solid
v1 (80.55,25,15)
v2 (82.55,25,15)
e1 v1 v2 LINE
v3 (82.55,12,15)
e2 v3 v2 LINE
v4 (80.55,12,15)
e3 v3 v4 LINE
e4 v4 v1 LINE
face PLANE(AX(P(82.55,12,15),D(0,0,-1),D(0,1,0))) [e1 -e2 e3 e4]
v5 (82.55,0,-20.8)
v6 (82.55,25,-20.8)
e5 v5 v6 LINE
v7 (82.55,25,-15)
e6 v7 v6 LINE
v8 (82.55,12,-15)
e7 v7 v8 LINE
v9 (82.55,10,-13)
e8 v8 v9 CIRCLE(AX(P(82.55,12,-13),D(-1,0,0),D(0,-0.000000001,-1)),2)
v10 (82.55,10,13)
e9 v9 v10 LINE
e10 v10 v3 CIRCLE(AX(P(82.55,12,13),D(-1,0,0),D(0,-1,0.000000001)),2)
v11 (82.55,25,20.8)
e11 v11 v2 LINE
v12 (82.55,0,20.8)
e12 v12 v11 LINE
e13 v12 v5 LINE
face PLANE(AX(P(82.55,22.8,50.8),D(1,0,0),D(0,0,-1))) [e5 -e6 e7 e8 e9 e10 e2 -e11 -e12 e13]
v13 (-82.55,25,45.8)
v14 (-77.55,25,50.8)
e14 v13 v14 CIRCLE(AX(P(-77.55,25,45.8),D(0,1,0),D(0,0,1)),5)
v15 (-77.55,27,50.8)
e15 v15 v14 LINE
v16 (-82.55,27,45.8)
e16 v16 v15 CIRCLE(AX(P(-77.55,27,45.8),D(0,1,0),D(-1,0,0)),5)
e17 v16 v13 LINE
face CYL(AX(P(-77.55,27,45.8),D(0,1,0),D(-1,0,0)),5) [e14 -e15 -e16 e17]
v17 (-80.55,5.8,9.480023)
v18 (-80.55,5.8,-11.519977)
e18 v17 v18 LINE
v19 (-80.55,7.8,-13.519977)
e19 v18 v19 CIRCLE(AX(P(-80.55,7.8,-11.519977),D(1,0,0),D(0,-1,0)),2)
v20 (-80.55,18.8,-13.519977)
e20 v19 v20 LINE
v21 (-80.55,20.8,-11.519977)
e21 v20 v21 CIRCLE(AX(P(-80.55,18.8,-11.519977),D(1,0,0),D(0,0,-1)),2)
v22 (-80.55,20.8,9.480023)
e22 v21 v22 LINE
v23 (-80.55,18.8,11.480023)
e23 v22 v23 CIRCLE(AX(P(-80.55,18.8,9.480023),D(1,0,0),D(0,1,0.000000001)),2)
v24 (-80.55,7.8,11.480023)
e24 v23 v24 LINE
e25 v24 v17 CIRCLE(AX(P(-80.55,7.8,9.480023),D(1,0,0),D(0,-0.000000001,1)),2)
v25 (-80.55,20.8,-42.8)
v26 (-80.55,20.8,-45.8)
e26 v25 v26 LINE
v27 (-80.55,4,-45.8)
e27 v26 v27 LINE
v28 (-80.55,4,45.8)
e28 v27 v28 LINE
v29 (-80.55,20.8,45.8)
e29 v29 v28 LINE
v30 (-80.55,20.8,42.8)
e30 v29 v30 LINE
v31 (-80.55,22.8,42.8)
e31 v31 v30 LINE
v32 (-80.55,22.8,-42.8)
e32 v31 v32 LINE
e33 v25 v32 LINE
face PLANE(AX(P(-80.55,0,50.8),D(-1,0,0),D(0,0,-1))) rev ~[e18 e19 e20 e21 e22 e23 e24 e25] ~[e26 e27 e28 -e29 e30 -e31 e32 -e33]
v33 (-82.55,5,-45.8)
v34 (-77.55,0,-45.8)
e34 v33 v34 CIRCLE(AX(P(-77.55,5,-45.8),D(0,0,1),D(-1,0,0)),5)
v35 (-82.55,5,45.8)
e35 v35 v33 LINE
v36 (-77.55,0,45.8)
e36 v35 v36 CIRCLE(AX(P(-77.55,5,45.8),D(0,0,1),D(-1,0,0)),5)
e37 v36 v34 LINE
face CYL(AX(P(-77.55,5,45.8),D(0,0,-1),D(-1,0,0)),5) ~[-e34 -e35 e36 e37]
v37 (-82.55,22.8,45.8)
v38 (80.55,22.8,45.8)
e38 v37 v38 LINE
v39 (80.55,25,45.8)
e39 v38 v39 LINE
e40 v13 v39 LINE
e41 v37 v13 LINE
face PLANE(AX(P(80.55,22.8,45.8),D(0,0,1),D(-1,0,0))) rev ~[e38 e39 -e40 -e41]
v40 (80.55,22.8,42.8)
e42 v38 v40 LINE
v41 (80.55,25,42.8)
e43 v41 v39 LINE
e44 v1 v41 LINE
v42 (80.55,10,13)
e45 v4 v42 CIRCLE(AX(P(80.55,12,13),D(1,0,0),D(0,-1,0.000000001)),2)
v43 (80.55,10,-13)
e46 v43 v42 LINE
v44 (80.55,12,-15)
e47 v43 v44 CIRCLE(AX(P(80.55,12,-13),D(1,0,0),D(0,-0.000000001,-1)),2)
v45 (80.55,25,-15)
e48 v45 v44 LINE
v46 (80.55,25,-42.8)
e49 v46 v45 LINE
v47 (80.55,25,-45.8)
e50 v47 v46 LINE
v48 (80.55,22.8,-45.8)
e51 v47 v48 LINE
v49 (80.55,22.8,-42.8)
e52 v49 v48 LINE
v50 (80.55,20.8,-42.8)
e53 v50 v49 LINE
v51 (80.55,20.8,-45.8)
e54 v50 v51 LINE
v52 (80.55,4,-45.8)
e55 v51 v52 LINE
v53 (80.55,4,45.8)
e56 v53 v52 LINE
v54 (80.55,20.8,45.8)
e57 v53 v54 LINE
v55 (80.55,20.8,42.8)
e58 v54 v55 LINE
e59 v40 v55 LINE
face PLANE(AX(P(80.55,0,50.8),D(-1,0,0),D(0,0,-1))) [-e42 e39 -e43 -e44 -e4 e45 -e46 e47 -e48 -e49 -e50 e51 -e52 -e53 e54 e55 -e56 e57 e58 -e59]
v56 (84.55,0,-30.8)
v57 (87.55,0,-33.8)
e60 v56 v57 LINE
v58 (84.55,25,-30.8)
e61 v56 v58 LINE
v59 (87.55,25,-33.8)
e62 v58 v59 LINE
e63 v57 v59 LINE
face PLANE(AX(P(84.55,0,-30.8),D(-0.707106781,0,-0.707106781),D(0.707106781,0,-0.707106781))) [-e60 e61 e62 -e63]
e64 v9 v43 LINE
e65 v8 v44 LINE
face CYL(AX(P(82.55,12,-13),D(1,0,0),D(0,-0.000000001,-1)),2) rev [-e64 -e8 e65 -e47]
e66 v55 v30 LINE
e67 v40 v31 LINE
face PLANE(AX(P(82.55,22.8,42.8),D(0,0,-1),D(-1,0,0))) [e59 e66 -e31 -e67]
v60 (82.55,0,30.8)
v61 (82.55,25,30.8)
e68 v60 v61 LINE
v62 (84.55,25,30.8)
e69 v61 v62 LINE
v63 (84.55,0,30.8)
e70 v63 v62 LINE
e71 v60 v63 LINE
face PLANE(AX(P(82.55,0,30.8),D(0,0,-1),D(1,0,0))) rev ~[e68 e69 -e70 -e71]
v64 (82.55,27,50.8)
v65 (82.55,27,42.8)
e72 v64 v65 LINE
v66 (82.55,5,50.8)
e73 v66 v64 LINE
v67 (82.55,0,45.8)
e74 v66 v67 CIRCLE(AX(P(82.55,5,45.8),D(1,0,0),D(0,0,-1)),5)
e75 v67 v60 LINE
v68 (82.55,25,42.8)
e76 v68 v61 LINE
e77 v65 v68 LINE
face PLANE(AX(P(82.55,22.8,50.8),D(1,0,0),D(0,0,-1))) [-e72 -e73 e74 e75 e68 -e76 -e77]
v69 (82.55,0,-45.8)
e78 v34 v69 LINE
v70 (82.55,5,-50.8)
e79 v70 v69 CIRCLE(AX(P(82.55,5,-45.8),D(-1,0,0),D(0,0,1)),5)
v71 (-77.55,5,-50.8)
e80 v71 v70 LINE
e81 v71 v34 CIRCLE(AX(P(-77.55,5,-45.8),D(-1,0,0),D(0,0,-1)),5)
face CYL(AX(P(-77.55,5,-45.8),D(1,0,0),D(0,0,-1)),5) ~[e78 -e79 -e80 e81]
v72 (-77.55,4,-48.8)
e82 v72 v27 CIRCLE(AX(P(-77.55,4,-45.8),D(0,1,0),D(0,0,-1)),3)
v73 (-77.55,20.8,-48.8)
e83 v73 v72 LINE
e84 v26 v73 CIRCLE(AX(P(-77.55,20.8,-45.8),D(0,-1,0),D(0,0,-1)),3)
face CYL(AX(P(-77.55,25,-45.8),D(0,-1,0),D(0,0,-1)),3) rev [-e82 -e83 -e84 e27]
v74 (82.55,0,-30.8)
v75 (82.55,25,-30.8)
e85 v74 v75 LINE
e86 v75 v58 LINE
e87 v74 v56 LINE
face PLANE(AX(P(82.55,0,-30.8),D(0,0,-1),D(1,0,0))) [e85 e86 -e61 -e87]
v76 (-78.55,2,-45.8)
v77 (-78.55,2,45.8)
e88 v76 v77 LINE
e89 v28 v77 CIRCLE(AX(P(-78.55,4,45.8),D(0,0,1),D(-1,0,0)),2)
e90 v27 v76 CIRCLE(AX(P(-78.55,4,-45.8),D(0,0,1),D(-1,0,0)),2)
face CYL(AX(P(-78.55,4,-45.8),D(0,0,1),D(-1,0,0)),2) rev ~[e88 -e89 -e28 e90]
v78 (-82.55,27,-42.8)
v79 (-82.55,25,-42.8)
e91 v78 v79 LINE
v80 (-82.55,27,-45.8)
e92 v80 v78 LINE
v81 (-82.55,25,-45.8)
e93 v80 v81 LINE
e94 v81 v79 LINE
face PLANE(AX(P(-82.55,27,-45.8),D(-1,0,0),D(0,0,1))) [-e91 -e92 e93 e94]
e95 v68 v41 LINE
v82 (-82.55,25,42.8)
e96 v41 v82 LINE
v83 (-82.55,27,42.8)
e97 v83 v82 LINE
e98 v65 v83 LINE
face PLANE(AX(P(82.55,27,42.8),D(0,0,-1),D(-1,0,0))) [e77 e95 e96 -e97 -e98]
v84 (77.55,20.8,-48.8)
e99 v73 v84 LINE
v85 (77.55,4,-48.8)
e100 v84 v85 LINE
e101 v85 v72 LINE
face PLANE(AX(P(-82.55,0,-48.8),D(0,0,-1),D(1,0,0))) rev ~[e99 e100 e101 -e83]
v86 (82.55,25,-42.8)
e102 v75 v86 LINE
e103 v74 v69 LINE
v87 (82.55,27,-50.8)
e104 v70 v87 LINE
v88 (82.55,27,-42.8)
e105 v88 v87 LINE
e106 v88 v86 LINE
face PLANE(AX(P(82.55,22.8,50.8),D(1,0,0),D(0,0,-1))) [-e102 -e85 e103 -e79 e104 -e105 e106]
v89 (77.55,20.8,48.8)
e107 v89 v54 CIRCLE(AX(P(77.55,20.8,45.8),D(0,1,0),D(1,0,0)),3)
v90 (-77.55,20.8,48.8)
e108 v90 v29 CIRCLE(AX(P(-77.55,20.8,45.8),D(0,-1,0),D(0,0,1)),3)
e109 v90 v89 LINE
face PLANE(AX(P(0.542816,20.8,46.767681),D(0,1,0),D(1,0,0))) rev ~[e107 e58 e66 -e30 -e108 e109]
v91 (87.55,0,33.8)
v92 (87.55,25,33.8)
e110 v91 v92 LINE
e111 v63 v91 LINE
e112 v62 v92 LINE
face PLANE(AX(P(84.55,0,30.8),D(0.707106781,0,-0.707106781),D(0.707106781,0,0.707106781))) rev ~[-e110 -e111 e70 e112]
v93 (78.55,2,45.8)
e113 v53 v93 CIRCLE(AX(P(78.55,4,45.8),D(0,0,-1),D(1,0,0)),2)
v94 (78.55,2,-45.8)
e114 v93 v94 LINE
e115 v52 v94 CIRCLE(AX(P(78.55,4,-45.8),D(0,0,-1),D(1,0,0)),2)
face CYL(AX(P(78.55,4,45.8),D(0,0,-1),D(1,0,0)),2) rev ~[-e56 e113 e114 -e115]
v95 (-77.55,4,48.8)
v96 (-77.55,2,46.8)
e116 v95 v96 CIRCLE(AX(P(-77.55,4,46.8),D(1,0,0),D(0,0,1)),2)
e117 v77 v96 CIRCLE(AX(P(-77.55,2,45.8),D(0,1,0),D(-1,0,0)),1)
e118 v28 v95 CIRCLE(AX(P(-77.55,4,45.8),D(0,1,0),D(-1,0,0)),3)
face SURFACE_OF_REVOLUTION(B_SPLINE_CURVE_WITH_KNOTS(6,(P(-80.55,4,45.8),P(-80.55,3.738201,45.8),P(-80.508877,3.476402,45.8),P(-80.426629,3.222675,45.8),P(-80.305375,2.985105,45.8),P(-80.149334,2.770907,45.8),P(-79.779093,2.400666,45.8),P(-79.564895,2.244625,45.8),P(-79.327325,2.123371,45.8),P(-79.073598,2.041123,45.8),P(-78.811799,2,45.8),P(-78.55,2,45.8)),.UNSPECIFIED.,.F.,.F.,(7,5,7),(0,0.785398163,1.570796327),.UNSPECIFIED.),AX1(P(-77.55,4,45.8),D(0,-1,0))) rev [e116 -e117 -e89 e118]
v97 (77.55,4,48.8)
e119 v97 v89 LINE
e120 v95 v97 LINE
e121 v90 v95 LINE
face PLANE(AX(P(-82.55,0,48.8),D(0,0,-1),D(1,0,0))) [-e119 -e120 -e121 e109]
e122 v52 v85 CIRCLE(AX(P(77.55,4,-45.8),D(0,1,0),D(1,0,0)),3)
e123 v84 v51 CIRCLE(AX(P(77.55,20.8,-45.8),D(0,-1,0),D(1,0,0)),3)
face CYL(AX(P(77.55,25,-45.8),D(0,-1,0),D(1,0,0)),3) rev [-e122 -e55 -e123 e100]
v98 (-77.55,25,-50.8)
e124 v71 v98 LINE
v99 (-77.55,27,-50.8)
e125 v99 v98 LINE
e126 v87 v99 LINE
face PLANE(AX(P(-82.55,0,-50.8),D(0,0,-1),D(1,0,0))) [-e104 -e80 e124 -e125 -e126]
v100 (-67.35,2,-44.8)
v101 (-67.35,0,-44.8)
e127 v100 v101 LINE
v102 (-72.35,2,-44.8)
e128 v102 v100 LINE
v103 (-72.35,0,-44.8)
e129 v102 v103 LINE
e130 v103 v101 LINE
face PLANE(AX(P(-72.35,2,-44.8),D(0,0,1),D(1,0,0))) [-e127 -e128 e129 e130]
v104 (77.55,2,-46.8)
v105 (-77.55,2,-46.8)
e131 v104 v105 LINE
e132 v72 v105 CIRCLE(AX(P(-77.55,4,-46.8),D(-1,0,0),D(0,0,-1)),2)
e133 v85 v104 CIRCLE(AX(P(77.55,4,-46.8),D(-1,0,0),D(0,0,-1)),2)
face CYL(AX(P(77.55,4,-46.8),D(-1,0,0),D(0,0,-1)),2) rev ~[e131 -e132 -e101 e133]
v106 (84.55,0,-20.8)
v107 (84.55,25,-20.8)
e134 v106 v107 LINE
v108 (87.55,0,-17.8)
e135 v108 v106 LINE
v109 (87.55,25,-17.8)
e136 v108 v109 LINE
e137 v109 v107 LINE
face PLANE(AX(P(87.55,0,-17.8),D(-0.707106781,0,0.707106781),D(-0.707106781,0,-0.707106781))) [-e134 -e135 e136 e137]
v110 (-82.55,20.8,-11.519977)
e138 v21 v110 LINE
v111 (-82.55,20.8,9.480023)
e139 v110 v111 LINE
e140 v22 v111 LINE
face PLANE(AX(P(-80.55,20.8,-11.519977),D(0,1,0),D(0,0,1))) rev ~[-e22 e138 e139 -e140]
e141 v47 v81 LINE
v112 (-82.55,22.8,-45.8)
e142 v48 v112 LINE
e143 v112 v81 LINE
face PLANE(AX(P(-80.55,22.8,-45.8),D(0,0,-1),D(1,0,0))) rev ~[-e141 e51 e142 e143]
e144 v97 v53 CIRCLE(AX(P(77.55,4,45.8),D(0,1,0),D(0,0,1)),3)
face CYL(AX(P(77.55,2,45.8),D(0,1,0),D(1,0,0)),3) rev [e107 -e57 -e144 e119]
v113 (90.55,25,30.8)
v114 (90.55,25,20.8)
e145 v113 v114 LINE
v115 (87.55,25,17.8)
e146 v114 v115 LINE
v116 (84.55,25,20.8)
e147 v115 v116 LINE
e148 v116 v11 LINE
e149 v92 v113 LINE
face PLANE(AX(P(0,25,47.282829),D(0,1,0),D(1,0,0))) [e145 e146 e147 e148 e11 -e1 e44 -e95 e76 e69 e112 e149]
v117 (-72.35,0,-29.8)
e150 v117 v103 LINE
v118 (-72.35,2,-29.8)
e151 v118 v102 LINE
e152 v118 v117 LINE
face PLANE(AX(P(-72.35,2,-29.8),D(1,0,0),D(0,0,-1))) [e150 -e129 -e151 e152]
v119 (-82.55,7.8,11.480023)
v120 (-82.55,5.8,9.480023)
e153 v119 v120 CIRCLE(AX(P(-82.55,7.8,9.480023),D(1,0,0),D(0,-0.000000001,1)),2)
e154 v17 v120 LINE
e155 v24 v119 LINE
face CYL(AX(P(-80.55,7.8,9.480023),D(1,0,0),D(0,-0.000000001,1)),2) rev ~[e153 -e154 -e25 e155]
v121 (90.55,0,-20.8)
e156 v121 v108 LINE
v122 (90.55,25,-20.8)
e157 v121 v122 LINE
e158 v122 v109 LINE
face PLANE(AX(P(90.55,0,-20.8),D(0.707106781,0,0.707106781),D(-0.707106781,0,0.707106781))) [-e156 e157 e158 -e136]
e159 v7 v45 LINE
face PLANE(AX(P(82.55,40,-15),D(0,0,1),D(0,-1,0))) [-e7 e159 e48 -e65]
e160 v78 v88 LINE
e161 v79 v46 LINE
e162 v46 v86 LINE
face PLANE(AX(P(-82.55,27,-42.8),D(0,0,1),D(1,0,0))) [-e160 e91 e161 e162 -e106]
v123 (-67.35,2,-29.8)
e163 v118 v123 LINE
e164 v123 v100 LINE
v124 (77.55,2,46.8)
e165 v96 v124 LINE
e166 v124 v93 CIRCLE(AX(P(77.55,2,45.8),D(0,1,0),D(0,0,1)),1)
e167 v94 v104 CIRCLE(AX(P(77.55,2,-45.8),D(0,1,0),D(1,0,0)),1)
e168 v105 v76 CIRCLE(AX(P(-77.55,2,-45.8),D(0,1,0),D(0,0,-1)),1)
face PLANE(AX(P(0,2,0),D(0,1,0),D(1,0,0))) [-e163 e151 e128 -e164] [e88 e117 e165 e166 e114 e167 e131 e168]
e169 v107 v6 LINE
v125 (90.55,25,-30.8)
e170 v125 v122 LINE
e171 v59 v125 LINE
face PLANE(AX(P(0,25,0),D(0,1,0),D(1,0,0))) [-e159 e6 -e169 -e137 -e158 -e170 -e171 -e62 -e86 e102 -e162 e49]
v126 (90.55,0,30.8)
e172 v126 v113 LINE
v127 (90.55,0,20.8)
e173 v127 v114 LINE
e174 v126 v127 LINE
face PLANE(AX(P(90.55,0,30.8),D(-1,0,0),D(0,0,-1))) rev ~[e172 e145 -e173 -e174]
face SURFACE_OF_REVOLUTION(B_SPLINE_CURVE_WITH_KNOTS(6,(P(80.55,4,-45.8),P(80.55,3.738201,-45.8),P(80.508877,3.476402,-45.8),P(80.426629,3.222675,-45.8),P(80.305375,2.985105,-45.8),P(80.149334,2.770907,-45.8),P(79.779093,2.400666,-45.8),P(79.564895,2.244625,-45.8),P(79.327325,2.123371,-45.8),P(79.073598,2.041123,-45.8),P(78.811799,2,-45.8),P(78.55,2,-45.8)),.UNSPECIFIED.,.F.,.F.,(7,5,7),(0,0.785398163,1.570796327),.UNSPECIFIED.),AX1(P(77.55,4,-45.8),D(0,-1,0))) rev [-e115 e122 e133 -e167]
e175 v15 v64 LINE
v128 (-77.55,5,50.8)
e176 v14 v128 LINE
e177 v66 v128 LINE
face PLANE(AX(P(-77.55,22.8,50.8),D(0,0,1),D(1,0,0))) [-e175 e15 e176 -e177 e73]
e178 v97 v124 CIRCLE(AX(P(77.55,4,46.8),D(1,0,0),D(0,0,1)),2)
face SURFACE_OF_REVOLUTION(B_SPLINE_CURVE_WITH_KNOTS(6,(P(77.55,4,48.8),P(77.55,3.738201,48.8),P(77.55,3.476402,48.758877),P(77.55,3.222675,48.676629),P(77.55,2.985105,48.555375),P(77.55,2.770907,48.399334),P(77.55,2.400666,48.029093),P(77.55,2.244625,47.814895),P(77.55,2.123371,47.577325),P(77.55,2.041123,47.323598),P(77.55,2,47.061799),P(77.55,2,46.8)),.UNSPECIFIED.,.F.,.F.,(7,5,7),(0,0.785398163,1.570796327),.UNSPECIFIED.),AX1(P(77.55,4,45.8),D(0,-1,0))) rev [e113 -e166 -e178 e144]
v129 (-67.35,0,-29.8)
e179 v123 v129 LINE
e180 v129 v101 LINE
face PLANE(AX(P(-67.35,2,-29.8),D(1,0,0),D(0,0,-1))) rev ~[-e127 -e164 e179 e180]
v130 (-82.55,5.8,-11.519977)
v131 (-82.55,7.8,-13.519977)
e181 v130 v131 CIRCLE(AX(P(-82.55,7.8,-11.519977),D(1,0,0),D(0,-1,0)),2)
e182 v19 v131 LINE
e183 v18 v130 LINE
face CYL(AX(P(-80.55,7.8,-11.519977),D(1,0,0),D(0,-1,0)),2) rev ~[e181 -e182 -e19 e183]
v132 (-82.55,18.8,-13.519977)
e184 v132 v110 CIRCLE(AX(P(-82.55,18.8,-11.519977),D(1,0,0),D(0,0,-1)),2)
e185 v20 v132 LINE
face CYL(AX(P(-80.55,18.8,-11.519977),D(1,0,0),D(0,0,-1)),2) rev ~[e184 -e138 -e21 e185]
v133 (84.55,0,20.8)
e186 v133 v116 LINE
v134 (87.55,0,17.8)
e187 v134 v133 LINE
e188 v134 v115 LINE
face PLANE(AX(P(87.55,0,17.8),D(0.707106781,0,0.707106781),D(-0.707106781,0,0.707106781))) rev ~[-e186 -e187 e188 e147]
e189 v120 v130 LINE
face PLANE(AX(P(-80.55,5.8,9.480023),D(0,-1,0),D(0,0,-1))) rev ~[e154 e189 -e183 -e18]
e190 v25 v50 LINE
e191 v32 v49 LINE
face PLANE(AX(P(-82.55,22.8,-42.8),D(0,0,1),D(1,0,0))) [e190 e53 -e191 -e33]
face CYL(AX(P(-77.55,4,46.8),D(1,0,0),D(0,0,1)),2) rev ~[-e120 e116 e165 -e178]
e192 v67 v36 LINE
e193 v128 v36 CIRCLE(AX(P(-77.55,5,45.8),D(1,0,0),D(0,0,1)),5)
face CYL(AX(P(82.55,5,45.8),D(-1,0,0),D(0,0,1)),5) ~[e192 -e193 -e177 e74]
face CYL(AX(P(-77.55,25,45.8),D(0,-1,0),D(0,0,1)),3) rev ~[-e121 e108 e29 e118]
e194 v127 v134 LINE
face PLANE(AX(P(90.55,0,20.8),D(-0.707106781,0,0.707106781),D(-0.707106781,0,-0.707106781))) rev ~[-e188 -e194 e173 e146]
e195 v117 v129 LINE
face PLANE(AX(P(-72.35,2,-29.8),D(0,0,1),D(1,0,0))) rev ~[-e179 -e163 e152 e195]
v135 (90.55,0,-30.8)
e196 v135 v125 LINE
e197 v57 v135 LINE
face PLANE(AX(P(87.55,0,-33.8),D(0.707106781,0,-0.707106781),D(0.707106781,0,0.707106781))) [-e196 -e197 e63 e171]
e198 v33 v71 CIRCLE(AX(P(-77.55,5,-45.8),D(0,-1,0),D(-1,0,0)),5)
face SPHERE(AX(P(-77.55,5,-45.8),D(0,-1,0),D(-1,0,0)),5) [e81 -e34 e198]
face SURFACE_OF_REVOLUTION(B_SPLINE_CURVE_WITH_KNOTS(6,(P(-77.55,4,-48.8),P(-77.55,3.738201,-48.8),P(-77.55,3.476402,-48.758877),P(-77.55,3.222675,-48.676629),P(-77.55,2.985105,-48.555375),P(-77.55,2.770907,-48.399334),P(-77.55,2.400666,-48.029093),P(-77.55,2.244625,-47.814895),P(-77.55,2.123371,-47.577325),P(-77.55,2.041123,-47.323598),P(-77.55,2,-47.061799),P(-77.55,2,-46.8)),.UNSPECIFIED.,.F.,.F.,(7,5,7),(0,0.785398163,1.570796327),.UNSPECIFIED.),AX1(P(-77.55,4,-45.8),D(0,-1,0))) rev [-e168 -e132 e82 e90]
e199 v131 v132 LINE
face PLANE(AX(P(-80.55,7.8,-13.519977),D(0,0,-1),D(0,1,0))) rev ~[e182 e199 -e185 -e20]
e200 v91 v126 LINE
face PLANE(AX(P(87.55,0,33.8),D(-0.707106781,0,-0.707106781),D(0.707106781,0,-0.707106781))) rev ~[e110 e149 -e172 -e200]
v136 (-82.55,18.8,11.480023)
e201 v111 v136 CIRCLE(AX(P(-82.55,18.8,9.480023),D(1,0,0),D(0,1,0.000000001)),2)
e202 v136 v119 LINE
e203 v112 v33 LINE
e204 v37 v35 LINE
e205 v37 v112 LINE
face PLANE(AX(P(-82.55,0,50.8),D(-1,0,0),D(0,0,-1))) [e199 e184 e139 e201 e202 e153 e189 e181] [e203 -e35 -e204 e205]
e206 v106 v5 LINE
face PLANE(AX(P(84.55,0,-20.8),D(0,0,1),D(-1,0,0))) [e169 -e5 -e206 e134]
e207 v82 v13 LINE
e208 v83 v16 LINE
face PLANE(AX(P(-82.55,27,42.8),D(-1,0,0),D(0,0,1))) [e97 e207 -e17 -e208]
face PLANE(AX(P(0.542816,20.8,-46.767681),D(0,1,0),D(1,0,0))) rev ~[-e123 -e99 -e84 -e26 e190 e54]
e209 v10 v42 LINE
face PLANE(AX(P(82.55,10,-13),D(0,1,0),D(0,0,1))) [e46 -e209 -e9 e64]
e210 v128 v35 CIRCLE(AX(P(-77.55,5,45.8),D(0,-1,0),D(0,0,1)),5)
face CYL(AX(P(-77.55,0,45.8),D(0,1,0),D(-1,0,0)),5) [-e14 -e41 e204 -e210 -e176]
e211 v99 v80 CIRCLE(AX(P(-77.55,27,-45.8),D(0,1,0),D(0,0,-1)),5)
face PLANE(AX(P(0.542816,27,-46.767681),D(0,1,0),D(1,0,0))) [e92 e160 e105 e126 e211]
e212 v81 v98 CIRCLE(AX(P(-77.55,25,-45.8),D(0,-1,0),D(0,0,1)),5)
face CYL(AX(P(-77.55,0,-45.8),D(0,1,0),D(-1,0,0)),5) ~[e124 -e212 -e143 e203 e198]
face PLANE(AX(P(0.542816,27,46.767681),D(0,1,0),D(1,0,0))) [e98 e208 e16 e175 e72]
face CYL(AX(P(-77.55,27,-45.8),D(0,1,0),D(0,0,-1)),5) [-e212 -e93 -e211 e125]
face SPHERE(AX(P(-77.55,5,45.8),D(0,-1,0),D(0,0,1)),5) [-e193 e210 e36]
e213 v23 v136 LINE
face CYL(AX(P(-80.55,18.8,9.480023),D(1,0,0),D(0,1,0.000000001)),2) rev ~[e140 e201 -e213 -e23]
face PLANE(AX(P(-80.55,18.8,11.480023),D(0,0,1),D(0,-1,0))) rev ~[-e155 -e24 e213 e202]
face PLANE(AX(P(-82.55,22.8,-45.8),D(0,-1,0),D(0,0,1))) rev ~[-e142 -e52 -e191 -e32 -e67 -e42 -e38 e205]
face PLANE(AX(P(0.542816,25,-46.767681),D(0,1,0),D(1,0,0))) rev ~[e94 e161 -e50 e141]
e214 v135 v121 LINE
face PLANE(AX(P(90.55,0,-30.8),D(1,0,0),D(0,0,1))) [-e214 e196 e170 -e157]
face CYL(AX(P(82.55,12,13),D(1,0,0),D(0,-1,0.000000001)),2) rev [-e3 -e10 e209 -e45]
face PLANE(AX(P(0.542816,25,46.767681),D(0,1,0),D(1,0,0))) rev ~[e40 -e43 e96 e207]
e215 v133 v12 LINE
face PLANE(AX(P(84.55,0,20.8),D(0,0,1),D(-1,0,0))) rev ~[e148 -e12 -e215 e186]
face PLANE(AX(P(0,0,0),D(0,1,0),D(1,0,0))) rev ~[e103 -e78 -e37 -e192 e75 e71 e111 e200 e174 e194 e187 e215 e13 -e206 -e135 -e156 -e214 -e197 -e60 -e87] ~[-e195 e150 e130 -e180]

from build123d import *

# Parameters (mm, degrees)
SKETCH1_W           = 165.1
SKETCH1_H           = 101.6
BOSS_EXTRUDE1_DEPTH = 25
SHELL1_T            = -2
SKETCH2_W           = 5
SKETCH2_H           = 15
CUT_EXTRUDE1_DEPTH  = 25
CUT_EXTRUDE2_REACH  = 176.538
FILLET1_R           = 5
FILLET2_R           = 3
FILLET3_R           = 2
FILLET4_R           = 5
CUT_EXTRUDE3_REACH  = 176.538
SKETCH4_W           = 91.6
SKETCH4_H           = 4.4
BOSS_EXTRUDE4_START = -2.2
BOSS_EXTRUDE4_DEPTH = 2.2
BOSS_EXTRUDE2_START = 2
BOSS_EXTRUDE2_DEPTH = 2
LPATTERN1_COUNT     = 2
LPATTERN1_PITCH     = 4.2
BOSS_EXTRUDE3_DEPTH = 25
CUT_EXTRUDE4_REACH  = 182.513


with BuildPart() as part:
    # Sketch1 → Boss-Extrude1 (new body)
    with BuildSketch(Plane(origin=(0, 0, 0), x_dir=(1, 0, 0), z_dir=(0, 1, 0))):
        Rectangle(SKETCH1_W, SKETCH1_H)
    extrude(amount=BOSS_EXTRUDE1_DEPTH)

    # Shell1
    shell1_openings = [part.faces().sort_by_distance(p)[0] for p in [
        (0, 25, 0),
    ]]
    offset(amount=SHELL1_T, openings=shell1_openings, kind=Kind.INTERSECTION)

    # Sketch2 → Cut-Extrude1 (cut)
    with BuildSketch(Plane(origin=(0, 2, 0), x_dir=(1, 0, 0), z_dir=(0, 1, 0))):
        with Locations((-69.85, 37.3)):
            Rectangle(SKETCH2_W, SKETCH2_H)
    extrude(amount=-CUT_EXTRUDE1_DEPTH, mode=Mode.SUBTRACT)

    # Sketch3 → Cut-Extrude2 (cut, up to next)
    with BuildSketch(Plane(origin=(82.55, 0, 0), x_dir=(0, 0, -1), z_dir=(1, 0, 0)), mode=Mode.PRIVATE) as cut_extrude2_sk1:
        with BuildLine():
            Line((-15, 40), (15, 40))
            Line((15, 40), (15, 12))
            ThreePointArc((15, 12), (14.414213562, 10.585786438), (13, 10))
            Line((13, 10), (-13, 10))
            ThreePointArc((-13, 10), (-14.414213562, 10.585786438), (-15, 12))
            Line((-15, 12), (-15, 40))
        make_face()
    cut_extrude2_tool1 = extrude(cut_extrude2_sk1.sketch, amount=-CUT_EXTRUDE2_REACH, mode=Mode.PRIVATE) & part.part
    add(cut_extrude2_tool1.solids().sort_by_distance((82.55, 25.027814, 0))[0], mode=Mode.SUBTRACT)

    # Fillet1
    fillet1_edges = [part.edges().sort_by_distance(p)[0] for p in [
        (-82.55, 12.5, -50.8),
        (-82.55, 12.5, 50.8),
    ]]
    fillet(fillet1_edges, radius=FILLET1_R)

    # Fillet2
    fillet2_edges = [part.edges().sort_by_distance(p)[0] for p in [
        (-80.55, 13.5, -48.8),
        (-80.55, 13.5, 48.8),
        (80.55, 13.5, 48.8),
        (80.55, 13.5, -48.8),
    ]]
    fillet(fillet2_edges, radius=FILLET2_R)

    # Fillet3
    fillet3_edges = [part.edges().sort_by_distance(p)[0] for p in [
        (80.55, 2, 0),
        (-80.55, 2, 0),
        (0, 2, 48.8),
        (0, 2, -48.8),
        (-79.671320344, 2, -47.921320344),
        (-79.671320344, 2, 47.921320344),
        (79.671320344, 2, 47.921320344),
        (79.671320344, 2, -47.921320344),
    ]]
    fillet(fillet3_edges, radius=FILLET3_R)

    # Fillet4
    fillet4_edges = [part.edges().sort_by_distance(p)[0] for p in [
        (2.5, 0, -50.8),
        (2.5, 0, 50.8),
        (-82.55, 0, 0),
        (-81.085533906, 0, -49.335533906),
        (-81.085533906, 0, 49.335533906),
    ]]
    fillet(fillet4_edges, radius=FILLET4_R)

    # Sketch4 → Cut-Extrude3 (cut, up to next)
    with BuildSketch(Plane.ZY.offset(82.55), mode=Mode.PRIVATE) as cut_extrude3_sk1:
        with Locations((0, 25)):
            Rectangle(SKETCH4_W, SKETCH4_H)
    cut_extrude3_tool1 = extrude(cut_extrude3_sk1.sketch, amount=-CUT_EXTRUDE3_REACH, mode=Mode.PRIVATE) & part.part
    add(cut_extrude3_tool1.solids().sort_by_distance((-82.55, 25, 0))[0], mode=Mode.SUBTRACT)

    # Sketch8 → Boss-Extrude4 (add)
    with BuildSketch(Plane(origin=(0, 25, 0), x_dir=(1, 0, 0), z_dir=(0, 1, 0)).offset(BOSS_EXTRUDE4_START)):
        with BuildLine():
            Line((-77.55, -48.8), (77.55, -48.8))
            ThreePointArc((77.55, -48.8), (79.671320344, -47.921320344), (80.55, -45.8))
            Line((80.55, -45.8), (-80.55, -45.8))
            ThreePointArc((-80.55, -45.8), (-79.671320344, -47.921320344), (-77.55, -48.8))
        make_face()
        with BuildLine():
            Line((77.55, 48.8), (-77.55, 48.8))
            ThreePointArc((-77.55, 48.8), (-79.671320344, 47.921320344), (-80.55, 45.8))
            Line((-80.55, 45.8), (80.55, 45.8))
            ThreePointArc((80.55, 45.8), (79.671320344, 47.921320344), (77.55, 48.8))
        make_face()
    extrude(amount=BOSS_EXTRUDE4_DEPTH)

    # Sketch5 → Boss-Extrude2 (add)
    with BuildSketch(Plane(origin=(0, 25, 0), x_dir=(1, 0, 0), z_dir=(0, 1, 0)).offset(BOSS_EXTRUDE2_START)):
        with BuildLine():
            Line((-77.55, -50.8), (82.55, -50.8))
            Line((82.55, -50.8), (82.55, -42.8))
            Line((82.55, -42.8), (-82.55, -42.8))
            Line((-82.55, -42.8), (-82.55, -45.8))
            ThreePointArc((-82.55, -45.8), (-81.085533906, -49.335533906), (-77.55, -50.8))
        make_face()
        with BuildLine():
            Line((82.55, 50.8), (-77.55, 50.8))
            ThreePointArc((-77.55, 50.8), (-81.085533906, 49.335533906), (-82.55, 45.8))
            Line((-82.55, 45.8), (-82.55, 42.8))
            Line((-82.55, 42.8), (82.55, 42.8))
            Line((82.55, 42.8), (82.55, 50.8))
        make_face()
    boss_extrude2 = extrude(amount=-BOSS_EXTRUDE2_DEPTH)

    # LPattern1: Boss-Extrude2 ×2
    with Locations(*[(0, -i * LPATTERN1_PITCH, 0) for i in range(1, LPATTERN1_COUNT)]):
        add(boss_extrude2)

    # Sketch6 → Boss-Extrude3 (add)
    with BuildSketch(Plane.XZ):
        Polygon((82.55, -30.8), (84.55, -30.8), (87.55, -33.8), (90.55, -30.8), (90.55, -20.8), (87.55, -17.8), (84.55, -20.8), (82.55, -20.8), align=None)
        Polygon((82.55, 20.8), (82.55, 30.8), (84.55, 30.8), (87.55, 33.8), (90.55, 30.8), (90.55, 20.8), (87.55, 17.8), (84.55, 20.8), align=None)
    extrude(amount=-BOSS_EXTRUDE3_DEPTH)

    # Sketch7 → Cut-Extrude4 (cut, up to next)
    with BuildSketch(Plane(origin=(-80.55, 0, 0), x_dir=(0, 0, -1), z_dir=(1, 0, 0)), mode=Mode.PRIVATE) as cut_extrude4_sk1:
        with BuildLine():
            Line((11.519977141, 20.8), (-9.480022859, 20.8))
            ThreePointArc((-9.480022859, 20.8), (-10.894236421, 20.214213562), (-11.480022859, 18.8))
            Line((-11.480022859, 18.8), (-11.480022859, 7.8))
            ThreePointArc((-11.480022859, 7.8), (-10.894236421, 6.385786438), (-9.480022859, 5.8))
            Line((-9.480022859, 5.8), (11.519977141, 5.8))
            ThreePointArc((11.519977141, 5.8), (12.934190704, 6.385786438), (13.519977141, 7.8))
            Line((13.519977141, 7.8), (13.519977141, 18.8))
            ThreePointArc((13.519977141, 18.8), (12.934190704, 20.214213562), (11.519977141, 20.8))
        make_face()
    cut_extrude4_tool1 = extrude(cut_extrude4_sk1.sketch, amount=-CUT_EXTRUDE4_REACH, mode=Mode.PRIVATE) & part.part
    add(cut_extrude4_tool1.solids().sort_by_distance((-80.55, 13.3, -1.019977))[0], mode=Mode.SUBTRACT)


solid = part.part
